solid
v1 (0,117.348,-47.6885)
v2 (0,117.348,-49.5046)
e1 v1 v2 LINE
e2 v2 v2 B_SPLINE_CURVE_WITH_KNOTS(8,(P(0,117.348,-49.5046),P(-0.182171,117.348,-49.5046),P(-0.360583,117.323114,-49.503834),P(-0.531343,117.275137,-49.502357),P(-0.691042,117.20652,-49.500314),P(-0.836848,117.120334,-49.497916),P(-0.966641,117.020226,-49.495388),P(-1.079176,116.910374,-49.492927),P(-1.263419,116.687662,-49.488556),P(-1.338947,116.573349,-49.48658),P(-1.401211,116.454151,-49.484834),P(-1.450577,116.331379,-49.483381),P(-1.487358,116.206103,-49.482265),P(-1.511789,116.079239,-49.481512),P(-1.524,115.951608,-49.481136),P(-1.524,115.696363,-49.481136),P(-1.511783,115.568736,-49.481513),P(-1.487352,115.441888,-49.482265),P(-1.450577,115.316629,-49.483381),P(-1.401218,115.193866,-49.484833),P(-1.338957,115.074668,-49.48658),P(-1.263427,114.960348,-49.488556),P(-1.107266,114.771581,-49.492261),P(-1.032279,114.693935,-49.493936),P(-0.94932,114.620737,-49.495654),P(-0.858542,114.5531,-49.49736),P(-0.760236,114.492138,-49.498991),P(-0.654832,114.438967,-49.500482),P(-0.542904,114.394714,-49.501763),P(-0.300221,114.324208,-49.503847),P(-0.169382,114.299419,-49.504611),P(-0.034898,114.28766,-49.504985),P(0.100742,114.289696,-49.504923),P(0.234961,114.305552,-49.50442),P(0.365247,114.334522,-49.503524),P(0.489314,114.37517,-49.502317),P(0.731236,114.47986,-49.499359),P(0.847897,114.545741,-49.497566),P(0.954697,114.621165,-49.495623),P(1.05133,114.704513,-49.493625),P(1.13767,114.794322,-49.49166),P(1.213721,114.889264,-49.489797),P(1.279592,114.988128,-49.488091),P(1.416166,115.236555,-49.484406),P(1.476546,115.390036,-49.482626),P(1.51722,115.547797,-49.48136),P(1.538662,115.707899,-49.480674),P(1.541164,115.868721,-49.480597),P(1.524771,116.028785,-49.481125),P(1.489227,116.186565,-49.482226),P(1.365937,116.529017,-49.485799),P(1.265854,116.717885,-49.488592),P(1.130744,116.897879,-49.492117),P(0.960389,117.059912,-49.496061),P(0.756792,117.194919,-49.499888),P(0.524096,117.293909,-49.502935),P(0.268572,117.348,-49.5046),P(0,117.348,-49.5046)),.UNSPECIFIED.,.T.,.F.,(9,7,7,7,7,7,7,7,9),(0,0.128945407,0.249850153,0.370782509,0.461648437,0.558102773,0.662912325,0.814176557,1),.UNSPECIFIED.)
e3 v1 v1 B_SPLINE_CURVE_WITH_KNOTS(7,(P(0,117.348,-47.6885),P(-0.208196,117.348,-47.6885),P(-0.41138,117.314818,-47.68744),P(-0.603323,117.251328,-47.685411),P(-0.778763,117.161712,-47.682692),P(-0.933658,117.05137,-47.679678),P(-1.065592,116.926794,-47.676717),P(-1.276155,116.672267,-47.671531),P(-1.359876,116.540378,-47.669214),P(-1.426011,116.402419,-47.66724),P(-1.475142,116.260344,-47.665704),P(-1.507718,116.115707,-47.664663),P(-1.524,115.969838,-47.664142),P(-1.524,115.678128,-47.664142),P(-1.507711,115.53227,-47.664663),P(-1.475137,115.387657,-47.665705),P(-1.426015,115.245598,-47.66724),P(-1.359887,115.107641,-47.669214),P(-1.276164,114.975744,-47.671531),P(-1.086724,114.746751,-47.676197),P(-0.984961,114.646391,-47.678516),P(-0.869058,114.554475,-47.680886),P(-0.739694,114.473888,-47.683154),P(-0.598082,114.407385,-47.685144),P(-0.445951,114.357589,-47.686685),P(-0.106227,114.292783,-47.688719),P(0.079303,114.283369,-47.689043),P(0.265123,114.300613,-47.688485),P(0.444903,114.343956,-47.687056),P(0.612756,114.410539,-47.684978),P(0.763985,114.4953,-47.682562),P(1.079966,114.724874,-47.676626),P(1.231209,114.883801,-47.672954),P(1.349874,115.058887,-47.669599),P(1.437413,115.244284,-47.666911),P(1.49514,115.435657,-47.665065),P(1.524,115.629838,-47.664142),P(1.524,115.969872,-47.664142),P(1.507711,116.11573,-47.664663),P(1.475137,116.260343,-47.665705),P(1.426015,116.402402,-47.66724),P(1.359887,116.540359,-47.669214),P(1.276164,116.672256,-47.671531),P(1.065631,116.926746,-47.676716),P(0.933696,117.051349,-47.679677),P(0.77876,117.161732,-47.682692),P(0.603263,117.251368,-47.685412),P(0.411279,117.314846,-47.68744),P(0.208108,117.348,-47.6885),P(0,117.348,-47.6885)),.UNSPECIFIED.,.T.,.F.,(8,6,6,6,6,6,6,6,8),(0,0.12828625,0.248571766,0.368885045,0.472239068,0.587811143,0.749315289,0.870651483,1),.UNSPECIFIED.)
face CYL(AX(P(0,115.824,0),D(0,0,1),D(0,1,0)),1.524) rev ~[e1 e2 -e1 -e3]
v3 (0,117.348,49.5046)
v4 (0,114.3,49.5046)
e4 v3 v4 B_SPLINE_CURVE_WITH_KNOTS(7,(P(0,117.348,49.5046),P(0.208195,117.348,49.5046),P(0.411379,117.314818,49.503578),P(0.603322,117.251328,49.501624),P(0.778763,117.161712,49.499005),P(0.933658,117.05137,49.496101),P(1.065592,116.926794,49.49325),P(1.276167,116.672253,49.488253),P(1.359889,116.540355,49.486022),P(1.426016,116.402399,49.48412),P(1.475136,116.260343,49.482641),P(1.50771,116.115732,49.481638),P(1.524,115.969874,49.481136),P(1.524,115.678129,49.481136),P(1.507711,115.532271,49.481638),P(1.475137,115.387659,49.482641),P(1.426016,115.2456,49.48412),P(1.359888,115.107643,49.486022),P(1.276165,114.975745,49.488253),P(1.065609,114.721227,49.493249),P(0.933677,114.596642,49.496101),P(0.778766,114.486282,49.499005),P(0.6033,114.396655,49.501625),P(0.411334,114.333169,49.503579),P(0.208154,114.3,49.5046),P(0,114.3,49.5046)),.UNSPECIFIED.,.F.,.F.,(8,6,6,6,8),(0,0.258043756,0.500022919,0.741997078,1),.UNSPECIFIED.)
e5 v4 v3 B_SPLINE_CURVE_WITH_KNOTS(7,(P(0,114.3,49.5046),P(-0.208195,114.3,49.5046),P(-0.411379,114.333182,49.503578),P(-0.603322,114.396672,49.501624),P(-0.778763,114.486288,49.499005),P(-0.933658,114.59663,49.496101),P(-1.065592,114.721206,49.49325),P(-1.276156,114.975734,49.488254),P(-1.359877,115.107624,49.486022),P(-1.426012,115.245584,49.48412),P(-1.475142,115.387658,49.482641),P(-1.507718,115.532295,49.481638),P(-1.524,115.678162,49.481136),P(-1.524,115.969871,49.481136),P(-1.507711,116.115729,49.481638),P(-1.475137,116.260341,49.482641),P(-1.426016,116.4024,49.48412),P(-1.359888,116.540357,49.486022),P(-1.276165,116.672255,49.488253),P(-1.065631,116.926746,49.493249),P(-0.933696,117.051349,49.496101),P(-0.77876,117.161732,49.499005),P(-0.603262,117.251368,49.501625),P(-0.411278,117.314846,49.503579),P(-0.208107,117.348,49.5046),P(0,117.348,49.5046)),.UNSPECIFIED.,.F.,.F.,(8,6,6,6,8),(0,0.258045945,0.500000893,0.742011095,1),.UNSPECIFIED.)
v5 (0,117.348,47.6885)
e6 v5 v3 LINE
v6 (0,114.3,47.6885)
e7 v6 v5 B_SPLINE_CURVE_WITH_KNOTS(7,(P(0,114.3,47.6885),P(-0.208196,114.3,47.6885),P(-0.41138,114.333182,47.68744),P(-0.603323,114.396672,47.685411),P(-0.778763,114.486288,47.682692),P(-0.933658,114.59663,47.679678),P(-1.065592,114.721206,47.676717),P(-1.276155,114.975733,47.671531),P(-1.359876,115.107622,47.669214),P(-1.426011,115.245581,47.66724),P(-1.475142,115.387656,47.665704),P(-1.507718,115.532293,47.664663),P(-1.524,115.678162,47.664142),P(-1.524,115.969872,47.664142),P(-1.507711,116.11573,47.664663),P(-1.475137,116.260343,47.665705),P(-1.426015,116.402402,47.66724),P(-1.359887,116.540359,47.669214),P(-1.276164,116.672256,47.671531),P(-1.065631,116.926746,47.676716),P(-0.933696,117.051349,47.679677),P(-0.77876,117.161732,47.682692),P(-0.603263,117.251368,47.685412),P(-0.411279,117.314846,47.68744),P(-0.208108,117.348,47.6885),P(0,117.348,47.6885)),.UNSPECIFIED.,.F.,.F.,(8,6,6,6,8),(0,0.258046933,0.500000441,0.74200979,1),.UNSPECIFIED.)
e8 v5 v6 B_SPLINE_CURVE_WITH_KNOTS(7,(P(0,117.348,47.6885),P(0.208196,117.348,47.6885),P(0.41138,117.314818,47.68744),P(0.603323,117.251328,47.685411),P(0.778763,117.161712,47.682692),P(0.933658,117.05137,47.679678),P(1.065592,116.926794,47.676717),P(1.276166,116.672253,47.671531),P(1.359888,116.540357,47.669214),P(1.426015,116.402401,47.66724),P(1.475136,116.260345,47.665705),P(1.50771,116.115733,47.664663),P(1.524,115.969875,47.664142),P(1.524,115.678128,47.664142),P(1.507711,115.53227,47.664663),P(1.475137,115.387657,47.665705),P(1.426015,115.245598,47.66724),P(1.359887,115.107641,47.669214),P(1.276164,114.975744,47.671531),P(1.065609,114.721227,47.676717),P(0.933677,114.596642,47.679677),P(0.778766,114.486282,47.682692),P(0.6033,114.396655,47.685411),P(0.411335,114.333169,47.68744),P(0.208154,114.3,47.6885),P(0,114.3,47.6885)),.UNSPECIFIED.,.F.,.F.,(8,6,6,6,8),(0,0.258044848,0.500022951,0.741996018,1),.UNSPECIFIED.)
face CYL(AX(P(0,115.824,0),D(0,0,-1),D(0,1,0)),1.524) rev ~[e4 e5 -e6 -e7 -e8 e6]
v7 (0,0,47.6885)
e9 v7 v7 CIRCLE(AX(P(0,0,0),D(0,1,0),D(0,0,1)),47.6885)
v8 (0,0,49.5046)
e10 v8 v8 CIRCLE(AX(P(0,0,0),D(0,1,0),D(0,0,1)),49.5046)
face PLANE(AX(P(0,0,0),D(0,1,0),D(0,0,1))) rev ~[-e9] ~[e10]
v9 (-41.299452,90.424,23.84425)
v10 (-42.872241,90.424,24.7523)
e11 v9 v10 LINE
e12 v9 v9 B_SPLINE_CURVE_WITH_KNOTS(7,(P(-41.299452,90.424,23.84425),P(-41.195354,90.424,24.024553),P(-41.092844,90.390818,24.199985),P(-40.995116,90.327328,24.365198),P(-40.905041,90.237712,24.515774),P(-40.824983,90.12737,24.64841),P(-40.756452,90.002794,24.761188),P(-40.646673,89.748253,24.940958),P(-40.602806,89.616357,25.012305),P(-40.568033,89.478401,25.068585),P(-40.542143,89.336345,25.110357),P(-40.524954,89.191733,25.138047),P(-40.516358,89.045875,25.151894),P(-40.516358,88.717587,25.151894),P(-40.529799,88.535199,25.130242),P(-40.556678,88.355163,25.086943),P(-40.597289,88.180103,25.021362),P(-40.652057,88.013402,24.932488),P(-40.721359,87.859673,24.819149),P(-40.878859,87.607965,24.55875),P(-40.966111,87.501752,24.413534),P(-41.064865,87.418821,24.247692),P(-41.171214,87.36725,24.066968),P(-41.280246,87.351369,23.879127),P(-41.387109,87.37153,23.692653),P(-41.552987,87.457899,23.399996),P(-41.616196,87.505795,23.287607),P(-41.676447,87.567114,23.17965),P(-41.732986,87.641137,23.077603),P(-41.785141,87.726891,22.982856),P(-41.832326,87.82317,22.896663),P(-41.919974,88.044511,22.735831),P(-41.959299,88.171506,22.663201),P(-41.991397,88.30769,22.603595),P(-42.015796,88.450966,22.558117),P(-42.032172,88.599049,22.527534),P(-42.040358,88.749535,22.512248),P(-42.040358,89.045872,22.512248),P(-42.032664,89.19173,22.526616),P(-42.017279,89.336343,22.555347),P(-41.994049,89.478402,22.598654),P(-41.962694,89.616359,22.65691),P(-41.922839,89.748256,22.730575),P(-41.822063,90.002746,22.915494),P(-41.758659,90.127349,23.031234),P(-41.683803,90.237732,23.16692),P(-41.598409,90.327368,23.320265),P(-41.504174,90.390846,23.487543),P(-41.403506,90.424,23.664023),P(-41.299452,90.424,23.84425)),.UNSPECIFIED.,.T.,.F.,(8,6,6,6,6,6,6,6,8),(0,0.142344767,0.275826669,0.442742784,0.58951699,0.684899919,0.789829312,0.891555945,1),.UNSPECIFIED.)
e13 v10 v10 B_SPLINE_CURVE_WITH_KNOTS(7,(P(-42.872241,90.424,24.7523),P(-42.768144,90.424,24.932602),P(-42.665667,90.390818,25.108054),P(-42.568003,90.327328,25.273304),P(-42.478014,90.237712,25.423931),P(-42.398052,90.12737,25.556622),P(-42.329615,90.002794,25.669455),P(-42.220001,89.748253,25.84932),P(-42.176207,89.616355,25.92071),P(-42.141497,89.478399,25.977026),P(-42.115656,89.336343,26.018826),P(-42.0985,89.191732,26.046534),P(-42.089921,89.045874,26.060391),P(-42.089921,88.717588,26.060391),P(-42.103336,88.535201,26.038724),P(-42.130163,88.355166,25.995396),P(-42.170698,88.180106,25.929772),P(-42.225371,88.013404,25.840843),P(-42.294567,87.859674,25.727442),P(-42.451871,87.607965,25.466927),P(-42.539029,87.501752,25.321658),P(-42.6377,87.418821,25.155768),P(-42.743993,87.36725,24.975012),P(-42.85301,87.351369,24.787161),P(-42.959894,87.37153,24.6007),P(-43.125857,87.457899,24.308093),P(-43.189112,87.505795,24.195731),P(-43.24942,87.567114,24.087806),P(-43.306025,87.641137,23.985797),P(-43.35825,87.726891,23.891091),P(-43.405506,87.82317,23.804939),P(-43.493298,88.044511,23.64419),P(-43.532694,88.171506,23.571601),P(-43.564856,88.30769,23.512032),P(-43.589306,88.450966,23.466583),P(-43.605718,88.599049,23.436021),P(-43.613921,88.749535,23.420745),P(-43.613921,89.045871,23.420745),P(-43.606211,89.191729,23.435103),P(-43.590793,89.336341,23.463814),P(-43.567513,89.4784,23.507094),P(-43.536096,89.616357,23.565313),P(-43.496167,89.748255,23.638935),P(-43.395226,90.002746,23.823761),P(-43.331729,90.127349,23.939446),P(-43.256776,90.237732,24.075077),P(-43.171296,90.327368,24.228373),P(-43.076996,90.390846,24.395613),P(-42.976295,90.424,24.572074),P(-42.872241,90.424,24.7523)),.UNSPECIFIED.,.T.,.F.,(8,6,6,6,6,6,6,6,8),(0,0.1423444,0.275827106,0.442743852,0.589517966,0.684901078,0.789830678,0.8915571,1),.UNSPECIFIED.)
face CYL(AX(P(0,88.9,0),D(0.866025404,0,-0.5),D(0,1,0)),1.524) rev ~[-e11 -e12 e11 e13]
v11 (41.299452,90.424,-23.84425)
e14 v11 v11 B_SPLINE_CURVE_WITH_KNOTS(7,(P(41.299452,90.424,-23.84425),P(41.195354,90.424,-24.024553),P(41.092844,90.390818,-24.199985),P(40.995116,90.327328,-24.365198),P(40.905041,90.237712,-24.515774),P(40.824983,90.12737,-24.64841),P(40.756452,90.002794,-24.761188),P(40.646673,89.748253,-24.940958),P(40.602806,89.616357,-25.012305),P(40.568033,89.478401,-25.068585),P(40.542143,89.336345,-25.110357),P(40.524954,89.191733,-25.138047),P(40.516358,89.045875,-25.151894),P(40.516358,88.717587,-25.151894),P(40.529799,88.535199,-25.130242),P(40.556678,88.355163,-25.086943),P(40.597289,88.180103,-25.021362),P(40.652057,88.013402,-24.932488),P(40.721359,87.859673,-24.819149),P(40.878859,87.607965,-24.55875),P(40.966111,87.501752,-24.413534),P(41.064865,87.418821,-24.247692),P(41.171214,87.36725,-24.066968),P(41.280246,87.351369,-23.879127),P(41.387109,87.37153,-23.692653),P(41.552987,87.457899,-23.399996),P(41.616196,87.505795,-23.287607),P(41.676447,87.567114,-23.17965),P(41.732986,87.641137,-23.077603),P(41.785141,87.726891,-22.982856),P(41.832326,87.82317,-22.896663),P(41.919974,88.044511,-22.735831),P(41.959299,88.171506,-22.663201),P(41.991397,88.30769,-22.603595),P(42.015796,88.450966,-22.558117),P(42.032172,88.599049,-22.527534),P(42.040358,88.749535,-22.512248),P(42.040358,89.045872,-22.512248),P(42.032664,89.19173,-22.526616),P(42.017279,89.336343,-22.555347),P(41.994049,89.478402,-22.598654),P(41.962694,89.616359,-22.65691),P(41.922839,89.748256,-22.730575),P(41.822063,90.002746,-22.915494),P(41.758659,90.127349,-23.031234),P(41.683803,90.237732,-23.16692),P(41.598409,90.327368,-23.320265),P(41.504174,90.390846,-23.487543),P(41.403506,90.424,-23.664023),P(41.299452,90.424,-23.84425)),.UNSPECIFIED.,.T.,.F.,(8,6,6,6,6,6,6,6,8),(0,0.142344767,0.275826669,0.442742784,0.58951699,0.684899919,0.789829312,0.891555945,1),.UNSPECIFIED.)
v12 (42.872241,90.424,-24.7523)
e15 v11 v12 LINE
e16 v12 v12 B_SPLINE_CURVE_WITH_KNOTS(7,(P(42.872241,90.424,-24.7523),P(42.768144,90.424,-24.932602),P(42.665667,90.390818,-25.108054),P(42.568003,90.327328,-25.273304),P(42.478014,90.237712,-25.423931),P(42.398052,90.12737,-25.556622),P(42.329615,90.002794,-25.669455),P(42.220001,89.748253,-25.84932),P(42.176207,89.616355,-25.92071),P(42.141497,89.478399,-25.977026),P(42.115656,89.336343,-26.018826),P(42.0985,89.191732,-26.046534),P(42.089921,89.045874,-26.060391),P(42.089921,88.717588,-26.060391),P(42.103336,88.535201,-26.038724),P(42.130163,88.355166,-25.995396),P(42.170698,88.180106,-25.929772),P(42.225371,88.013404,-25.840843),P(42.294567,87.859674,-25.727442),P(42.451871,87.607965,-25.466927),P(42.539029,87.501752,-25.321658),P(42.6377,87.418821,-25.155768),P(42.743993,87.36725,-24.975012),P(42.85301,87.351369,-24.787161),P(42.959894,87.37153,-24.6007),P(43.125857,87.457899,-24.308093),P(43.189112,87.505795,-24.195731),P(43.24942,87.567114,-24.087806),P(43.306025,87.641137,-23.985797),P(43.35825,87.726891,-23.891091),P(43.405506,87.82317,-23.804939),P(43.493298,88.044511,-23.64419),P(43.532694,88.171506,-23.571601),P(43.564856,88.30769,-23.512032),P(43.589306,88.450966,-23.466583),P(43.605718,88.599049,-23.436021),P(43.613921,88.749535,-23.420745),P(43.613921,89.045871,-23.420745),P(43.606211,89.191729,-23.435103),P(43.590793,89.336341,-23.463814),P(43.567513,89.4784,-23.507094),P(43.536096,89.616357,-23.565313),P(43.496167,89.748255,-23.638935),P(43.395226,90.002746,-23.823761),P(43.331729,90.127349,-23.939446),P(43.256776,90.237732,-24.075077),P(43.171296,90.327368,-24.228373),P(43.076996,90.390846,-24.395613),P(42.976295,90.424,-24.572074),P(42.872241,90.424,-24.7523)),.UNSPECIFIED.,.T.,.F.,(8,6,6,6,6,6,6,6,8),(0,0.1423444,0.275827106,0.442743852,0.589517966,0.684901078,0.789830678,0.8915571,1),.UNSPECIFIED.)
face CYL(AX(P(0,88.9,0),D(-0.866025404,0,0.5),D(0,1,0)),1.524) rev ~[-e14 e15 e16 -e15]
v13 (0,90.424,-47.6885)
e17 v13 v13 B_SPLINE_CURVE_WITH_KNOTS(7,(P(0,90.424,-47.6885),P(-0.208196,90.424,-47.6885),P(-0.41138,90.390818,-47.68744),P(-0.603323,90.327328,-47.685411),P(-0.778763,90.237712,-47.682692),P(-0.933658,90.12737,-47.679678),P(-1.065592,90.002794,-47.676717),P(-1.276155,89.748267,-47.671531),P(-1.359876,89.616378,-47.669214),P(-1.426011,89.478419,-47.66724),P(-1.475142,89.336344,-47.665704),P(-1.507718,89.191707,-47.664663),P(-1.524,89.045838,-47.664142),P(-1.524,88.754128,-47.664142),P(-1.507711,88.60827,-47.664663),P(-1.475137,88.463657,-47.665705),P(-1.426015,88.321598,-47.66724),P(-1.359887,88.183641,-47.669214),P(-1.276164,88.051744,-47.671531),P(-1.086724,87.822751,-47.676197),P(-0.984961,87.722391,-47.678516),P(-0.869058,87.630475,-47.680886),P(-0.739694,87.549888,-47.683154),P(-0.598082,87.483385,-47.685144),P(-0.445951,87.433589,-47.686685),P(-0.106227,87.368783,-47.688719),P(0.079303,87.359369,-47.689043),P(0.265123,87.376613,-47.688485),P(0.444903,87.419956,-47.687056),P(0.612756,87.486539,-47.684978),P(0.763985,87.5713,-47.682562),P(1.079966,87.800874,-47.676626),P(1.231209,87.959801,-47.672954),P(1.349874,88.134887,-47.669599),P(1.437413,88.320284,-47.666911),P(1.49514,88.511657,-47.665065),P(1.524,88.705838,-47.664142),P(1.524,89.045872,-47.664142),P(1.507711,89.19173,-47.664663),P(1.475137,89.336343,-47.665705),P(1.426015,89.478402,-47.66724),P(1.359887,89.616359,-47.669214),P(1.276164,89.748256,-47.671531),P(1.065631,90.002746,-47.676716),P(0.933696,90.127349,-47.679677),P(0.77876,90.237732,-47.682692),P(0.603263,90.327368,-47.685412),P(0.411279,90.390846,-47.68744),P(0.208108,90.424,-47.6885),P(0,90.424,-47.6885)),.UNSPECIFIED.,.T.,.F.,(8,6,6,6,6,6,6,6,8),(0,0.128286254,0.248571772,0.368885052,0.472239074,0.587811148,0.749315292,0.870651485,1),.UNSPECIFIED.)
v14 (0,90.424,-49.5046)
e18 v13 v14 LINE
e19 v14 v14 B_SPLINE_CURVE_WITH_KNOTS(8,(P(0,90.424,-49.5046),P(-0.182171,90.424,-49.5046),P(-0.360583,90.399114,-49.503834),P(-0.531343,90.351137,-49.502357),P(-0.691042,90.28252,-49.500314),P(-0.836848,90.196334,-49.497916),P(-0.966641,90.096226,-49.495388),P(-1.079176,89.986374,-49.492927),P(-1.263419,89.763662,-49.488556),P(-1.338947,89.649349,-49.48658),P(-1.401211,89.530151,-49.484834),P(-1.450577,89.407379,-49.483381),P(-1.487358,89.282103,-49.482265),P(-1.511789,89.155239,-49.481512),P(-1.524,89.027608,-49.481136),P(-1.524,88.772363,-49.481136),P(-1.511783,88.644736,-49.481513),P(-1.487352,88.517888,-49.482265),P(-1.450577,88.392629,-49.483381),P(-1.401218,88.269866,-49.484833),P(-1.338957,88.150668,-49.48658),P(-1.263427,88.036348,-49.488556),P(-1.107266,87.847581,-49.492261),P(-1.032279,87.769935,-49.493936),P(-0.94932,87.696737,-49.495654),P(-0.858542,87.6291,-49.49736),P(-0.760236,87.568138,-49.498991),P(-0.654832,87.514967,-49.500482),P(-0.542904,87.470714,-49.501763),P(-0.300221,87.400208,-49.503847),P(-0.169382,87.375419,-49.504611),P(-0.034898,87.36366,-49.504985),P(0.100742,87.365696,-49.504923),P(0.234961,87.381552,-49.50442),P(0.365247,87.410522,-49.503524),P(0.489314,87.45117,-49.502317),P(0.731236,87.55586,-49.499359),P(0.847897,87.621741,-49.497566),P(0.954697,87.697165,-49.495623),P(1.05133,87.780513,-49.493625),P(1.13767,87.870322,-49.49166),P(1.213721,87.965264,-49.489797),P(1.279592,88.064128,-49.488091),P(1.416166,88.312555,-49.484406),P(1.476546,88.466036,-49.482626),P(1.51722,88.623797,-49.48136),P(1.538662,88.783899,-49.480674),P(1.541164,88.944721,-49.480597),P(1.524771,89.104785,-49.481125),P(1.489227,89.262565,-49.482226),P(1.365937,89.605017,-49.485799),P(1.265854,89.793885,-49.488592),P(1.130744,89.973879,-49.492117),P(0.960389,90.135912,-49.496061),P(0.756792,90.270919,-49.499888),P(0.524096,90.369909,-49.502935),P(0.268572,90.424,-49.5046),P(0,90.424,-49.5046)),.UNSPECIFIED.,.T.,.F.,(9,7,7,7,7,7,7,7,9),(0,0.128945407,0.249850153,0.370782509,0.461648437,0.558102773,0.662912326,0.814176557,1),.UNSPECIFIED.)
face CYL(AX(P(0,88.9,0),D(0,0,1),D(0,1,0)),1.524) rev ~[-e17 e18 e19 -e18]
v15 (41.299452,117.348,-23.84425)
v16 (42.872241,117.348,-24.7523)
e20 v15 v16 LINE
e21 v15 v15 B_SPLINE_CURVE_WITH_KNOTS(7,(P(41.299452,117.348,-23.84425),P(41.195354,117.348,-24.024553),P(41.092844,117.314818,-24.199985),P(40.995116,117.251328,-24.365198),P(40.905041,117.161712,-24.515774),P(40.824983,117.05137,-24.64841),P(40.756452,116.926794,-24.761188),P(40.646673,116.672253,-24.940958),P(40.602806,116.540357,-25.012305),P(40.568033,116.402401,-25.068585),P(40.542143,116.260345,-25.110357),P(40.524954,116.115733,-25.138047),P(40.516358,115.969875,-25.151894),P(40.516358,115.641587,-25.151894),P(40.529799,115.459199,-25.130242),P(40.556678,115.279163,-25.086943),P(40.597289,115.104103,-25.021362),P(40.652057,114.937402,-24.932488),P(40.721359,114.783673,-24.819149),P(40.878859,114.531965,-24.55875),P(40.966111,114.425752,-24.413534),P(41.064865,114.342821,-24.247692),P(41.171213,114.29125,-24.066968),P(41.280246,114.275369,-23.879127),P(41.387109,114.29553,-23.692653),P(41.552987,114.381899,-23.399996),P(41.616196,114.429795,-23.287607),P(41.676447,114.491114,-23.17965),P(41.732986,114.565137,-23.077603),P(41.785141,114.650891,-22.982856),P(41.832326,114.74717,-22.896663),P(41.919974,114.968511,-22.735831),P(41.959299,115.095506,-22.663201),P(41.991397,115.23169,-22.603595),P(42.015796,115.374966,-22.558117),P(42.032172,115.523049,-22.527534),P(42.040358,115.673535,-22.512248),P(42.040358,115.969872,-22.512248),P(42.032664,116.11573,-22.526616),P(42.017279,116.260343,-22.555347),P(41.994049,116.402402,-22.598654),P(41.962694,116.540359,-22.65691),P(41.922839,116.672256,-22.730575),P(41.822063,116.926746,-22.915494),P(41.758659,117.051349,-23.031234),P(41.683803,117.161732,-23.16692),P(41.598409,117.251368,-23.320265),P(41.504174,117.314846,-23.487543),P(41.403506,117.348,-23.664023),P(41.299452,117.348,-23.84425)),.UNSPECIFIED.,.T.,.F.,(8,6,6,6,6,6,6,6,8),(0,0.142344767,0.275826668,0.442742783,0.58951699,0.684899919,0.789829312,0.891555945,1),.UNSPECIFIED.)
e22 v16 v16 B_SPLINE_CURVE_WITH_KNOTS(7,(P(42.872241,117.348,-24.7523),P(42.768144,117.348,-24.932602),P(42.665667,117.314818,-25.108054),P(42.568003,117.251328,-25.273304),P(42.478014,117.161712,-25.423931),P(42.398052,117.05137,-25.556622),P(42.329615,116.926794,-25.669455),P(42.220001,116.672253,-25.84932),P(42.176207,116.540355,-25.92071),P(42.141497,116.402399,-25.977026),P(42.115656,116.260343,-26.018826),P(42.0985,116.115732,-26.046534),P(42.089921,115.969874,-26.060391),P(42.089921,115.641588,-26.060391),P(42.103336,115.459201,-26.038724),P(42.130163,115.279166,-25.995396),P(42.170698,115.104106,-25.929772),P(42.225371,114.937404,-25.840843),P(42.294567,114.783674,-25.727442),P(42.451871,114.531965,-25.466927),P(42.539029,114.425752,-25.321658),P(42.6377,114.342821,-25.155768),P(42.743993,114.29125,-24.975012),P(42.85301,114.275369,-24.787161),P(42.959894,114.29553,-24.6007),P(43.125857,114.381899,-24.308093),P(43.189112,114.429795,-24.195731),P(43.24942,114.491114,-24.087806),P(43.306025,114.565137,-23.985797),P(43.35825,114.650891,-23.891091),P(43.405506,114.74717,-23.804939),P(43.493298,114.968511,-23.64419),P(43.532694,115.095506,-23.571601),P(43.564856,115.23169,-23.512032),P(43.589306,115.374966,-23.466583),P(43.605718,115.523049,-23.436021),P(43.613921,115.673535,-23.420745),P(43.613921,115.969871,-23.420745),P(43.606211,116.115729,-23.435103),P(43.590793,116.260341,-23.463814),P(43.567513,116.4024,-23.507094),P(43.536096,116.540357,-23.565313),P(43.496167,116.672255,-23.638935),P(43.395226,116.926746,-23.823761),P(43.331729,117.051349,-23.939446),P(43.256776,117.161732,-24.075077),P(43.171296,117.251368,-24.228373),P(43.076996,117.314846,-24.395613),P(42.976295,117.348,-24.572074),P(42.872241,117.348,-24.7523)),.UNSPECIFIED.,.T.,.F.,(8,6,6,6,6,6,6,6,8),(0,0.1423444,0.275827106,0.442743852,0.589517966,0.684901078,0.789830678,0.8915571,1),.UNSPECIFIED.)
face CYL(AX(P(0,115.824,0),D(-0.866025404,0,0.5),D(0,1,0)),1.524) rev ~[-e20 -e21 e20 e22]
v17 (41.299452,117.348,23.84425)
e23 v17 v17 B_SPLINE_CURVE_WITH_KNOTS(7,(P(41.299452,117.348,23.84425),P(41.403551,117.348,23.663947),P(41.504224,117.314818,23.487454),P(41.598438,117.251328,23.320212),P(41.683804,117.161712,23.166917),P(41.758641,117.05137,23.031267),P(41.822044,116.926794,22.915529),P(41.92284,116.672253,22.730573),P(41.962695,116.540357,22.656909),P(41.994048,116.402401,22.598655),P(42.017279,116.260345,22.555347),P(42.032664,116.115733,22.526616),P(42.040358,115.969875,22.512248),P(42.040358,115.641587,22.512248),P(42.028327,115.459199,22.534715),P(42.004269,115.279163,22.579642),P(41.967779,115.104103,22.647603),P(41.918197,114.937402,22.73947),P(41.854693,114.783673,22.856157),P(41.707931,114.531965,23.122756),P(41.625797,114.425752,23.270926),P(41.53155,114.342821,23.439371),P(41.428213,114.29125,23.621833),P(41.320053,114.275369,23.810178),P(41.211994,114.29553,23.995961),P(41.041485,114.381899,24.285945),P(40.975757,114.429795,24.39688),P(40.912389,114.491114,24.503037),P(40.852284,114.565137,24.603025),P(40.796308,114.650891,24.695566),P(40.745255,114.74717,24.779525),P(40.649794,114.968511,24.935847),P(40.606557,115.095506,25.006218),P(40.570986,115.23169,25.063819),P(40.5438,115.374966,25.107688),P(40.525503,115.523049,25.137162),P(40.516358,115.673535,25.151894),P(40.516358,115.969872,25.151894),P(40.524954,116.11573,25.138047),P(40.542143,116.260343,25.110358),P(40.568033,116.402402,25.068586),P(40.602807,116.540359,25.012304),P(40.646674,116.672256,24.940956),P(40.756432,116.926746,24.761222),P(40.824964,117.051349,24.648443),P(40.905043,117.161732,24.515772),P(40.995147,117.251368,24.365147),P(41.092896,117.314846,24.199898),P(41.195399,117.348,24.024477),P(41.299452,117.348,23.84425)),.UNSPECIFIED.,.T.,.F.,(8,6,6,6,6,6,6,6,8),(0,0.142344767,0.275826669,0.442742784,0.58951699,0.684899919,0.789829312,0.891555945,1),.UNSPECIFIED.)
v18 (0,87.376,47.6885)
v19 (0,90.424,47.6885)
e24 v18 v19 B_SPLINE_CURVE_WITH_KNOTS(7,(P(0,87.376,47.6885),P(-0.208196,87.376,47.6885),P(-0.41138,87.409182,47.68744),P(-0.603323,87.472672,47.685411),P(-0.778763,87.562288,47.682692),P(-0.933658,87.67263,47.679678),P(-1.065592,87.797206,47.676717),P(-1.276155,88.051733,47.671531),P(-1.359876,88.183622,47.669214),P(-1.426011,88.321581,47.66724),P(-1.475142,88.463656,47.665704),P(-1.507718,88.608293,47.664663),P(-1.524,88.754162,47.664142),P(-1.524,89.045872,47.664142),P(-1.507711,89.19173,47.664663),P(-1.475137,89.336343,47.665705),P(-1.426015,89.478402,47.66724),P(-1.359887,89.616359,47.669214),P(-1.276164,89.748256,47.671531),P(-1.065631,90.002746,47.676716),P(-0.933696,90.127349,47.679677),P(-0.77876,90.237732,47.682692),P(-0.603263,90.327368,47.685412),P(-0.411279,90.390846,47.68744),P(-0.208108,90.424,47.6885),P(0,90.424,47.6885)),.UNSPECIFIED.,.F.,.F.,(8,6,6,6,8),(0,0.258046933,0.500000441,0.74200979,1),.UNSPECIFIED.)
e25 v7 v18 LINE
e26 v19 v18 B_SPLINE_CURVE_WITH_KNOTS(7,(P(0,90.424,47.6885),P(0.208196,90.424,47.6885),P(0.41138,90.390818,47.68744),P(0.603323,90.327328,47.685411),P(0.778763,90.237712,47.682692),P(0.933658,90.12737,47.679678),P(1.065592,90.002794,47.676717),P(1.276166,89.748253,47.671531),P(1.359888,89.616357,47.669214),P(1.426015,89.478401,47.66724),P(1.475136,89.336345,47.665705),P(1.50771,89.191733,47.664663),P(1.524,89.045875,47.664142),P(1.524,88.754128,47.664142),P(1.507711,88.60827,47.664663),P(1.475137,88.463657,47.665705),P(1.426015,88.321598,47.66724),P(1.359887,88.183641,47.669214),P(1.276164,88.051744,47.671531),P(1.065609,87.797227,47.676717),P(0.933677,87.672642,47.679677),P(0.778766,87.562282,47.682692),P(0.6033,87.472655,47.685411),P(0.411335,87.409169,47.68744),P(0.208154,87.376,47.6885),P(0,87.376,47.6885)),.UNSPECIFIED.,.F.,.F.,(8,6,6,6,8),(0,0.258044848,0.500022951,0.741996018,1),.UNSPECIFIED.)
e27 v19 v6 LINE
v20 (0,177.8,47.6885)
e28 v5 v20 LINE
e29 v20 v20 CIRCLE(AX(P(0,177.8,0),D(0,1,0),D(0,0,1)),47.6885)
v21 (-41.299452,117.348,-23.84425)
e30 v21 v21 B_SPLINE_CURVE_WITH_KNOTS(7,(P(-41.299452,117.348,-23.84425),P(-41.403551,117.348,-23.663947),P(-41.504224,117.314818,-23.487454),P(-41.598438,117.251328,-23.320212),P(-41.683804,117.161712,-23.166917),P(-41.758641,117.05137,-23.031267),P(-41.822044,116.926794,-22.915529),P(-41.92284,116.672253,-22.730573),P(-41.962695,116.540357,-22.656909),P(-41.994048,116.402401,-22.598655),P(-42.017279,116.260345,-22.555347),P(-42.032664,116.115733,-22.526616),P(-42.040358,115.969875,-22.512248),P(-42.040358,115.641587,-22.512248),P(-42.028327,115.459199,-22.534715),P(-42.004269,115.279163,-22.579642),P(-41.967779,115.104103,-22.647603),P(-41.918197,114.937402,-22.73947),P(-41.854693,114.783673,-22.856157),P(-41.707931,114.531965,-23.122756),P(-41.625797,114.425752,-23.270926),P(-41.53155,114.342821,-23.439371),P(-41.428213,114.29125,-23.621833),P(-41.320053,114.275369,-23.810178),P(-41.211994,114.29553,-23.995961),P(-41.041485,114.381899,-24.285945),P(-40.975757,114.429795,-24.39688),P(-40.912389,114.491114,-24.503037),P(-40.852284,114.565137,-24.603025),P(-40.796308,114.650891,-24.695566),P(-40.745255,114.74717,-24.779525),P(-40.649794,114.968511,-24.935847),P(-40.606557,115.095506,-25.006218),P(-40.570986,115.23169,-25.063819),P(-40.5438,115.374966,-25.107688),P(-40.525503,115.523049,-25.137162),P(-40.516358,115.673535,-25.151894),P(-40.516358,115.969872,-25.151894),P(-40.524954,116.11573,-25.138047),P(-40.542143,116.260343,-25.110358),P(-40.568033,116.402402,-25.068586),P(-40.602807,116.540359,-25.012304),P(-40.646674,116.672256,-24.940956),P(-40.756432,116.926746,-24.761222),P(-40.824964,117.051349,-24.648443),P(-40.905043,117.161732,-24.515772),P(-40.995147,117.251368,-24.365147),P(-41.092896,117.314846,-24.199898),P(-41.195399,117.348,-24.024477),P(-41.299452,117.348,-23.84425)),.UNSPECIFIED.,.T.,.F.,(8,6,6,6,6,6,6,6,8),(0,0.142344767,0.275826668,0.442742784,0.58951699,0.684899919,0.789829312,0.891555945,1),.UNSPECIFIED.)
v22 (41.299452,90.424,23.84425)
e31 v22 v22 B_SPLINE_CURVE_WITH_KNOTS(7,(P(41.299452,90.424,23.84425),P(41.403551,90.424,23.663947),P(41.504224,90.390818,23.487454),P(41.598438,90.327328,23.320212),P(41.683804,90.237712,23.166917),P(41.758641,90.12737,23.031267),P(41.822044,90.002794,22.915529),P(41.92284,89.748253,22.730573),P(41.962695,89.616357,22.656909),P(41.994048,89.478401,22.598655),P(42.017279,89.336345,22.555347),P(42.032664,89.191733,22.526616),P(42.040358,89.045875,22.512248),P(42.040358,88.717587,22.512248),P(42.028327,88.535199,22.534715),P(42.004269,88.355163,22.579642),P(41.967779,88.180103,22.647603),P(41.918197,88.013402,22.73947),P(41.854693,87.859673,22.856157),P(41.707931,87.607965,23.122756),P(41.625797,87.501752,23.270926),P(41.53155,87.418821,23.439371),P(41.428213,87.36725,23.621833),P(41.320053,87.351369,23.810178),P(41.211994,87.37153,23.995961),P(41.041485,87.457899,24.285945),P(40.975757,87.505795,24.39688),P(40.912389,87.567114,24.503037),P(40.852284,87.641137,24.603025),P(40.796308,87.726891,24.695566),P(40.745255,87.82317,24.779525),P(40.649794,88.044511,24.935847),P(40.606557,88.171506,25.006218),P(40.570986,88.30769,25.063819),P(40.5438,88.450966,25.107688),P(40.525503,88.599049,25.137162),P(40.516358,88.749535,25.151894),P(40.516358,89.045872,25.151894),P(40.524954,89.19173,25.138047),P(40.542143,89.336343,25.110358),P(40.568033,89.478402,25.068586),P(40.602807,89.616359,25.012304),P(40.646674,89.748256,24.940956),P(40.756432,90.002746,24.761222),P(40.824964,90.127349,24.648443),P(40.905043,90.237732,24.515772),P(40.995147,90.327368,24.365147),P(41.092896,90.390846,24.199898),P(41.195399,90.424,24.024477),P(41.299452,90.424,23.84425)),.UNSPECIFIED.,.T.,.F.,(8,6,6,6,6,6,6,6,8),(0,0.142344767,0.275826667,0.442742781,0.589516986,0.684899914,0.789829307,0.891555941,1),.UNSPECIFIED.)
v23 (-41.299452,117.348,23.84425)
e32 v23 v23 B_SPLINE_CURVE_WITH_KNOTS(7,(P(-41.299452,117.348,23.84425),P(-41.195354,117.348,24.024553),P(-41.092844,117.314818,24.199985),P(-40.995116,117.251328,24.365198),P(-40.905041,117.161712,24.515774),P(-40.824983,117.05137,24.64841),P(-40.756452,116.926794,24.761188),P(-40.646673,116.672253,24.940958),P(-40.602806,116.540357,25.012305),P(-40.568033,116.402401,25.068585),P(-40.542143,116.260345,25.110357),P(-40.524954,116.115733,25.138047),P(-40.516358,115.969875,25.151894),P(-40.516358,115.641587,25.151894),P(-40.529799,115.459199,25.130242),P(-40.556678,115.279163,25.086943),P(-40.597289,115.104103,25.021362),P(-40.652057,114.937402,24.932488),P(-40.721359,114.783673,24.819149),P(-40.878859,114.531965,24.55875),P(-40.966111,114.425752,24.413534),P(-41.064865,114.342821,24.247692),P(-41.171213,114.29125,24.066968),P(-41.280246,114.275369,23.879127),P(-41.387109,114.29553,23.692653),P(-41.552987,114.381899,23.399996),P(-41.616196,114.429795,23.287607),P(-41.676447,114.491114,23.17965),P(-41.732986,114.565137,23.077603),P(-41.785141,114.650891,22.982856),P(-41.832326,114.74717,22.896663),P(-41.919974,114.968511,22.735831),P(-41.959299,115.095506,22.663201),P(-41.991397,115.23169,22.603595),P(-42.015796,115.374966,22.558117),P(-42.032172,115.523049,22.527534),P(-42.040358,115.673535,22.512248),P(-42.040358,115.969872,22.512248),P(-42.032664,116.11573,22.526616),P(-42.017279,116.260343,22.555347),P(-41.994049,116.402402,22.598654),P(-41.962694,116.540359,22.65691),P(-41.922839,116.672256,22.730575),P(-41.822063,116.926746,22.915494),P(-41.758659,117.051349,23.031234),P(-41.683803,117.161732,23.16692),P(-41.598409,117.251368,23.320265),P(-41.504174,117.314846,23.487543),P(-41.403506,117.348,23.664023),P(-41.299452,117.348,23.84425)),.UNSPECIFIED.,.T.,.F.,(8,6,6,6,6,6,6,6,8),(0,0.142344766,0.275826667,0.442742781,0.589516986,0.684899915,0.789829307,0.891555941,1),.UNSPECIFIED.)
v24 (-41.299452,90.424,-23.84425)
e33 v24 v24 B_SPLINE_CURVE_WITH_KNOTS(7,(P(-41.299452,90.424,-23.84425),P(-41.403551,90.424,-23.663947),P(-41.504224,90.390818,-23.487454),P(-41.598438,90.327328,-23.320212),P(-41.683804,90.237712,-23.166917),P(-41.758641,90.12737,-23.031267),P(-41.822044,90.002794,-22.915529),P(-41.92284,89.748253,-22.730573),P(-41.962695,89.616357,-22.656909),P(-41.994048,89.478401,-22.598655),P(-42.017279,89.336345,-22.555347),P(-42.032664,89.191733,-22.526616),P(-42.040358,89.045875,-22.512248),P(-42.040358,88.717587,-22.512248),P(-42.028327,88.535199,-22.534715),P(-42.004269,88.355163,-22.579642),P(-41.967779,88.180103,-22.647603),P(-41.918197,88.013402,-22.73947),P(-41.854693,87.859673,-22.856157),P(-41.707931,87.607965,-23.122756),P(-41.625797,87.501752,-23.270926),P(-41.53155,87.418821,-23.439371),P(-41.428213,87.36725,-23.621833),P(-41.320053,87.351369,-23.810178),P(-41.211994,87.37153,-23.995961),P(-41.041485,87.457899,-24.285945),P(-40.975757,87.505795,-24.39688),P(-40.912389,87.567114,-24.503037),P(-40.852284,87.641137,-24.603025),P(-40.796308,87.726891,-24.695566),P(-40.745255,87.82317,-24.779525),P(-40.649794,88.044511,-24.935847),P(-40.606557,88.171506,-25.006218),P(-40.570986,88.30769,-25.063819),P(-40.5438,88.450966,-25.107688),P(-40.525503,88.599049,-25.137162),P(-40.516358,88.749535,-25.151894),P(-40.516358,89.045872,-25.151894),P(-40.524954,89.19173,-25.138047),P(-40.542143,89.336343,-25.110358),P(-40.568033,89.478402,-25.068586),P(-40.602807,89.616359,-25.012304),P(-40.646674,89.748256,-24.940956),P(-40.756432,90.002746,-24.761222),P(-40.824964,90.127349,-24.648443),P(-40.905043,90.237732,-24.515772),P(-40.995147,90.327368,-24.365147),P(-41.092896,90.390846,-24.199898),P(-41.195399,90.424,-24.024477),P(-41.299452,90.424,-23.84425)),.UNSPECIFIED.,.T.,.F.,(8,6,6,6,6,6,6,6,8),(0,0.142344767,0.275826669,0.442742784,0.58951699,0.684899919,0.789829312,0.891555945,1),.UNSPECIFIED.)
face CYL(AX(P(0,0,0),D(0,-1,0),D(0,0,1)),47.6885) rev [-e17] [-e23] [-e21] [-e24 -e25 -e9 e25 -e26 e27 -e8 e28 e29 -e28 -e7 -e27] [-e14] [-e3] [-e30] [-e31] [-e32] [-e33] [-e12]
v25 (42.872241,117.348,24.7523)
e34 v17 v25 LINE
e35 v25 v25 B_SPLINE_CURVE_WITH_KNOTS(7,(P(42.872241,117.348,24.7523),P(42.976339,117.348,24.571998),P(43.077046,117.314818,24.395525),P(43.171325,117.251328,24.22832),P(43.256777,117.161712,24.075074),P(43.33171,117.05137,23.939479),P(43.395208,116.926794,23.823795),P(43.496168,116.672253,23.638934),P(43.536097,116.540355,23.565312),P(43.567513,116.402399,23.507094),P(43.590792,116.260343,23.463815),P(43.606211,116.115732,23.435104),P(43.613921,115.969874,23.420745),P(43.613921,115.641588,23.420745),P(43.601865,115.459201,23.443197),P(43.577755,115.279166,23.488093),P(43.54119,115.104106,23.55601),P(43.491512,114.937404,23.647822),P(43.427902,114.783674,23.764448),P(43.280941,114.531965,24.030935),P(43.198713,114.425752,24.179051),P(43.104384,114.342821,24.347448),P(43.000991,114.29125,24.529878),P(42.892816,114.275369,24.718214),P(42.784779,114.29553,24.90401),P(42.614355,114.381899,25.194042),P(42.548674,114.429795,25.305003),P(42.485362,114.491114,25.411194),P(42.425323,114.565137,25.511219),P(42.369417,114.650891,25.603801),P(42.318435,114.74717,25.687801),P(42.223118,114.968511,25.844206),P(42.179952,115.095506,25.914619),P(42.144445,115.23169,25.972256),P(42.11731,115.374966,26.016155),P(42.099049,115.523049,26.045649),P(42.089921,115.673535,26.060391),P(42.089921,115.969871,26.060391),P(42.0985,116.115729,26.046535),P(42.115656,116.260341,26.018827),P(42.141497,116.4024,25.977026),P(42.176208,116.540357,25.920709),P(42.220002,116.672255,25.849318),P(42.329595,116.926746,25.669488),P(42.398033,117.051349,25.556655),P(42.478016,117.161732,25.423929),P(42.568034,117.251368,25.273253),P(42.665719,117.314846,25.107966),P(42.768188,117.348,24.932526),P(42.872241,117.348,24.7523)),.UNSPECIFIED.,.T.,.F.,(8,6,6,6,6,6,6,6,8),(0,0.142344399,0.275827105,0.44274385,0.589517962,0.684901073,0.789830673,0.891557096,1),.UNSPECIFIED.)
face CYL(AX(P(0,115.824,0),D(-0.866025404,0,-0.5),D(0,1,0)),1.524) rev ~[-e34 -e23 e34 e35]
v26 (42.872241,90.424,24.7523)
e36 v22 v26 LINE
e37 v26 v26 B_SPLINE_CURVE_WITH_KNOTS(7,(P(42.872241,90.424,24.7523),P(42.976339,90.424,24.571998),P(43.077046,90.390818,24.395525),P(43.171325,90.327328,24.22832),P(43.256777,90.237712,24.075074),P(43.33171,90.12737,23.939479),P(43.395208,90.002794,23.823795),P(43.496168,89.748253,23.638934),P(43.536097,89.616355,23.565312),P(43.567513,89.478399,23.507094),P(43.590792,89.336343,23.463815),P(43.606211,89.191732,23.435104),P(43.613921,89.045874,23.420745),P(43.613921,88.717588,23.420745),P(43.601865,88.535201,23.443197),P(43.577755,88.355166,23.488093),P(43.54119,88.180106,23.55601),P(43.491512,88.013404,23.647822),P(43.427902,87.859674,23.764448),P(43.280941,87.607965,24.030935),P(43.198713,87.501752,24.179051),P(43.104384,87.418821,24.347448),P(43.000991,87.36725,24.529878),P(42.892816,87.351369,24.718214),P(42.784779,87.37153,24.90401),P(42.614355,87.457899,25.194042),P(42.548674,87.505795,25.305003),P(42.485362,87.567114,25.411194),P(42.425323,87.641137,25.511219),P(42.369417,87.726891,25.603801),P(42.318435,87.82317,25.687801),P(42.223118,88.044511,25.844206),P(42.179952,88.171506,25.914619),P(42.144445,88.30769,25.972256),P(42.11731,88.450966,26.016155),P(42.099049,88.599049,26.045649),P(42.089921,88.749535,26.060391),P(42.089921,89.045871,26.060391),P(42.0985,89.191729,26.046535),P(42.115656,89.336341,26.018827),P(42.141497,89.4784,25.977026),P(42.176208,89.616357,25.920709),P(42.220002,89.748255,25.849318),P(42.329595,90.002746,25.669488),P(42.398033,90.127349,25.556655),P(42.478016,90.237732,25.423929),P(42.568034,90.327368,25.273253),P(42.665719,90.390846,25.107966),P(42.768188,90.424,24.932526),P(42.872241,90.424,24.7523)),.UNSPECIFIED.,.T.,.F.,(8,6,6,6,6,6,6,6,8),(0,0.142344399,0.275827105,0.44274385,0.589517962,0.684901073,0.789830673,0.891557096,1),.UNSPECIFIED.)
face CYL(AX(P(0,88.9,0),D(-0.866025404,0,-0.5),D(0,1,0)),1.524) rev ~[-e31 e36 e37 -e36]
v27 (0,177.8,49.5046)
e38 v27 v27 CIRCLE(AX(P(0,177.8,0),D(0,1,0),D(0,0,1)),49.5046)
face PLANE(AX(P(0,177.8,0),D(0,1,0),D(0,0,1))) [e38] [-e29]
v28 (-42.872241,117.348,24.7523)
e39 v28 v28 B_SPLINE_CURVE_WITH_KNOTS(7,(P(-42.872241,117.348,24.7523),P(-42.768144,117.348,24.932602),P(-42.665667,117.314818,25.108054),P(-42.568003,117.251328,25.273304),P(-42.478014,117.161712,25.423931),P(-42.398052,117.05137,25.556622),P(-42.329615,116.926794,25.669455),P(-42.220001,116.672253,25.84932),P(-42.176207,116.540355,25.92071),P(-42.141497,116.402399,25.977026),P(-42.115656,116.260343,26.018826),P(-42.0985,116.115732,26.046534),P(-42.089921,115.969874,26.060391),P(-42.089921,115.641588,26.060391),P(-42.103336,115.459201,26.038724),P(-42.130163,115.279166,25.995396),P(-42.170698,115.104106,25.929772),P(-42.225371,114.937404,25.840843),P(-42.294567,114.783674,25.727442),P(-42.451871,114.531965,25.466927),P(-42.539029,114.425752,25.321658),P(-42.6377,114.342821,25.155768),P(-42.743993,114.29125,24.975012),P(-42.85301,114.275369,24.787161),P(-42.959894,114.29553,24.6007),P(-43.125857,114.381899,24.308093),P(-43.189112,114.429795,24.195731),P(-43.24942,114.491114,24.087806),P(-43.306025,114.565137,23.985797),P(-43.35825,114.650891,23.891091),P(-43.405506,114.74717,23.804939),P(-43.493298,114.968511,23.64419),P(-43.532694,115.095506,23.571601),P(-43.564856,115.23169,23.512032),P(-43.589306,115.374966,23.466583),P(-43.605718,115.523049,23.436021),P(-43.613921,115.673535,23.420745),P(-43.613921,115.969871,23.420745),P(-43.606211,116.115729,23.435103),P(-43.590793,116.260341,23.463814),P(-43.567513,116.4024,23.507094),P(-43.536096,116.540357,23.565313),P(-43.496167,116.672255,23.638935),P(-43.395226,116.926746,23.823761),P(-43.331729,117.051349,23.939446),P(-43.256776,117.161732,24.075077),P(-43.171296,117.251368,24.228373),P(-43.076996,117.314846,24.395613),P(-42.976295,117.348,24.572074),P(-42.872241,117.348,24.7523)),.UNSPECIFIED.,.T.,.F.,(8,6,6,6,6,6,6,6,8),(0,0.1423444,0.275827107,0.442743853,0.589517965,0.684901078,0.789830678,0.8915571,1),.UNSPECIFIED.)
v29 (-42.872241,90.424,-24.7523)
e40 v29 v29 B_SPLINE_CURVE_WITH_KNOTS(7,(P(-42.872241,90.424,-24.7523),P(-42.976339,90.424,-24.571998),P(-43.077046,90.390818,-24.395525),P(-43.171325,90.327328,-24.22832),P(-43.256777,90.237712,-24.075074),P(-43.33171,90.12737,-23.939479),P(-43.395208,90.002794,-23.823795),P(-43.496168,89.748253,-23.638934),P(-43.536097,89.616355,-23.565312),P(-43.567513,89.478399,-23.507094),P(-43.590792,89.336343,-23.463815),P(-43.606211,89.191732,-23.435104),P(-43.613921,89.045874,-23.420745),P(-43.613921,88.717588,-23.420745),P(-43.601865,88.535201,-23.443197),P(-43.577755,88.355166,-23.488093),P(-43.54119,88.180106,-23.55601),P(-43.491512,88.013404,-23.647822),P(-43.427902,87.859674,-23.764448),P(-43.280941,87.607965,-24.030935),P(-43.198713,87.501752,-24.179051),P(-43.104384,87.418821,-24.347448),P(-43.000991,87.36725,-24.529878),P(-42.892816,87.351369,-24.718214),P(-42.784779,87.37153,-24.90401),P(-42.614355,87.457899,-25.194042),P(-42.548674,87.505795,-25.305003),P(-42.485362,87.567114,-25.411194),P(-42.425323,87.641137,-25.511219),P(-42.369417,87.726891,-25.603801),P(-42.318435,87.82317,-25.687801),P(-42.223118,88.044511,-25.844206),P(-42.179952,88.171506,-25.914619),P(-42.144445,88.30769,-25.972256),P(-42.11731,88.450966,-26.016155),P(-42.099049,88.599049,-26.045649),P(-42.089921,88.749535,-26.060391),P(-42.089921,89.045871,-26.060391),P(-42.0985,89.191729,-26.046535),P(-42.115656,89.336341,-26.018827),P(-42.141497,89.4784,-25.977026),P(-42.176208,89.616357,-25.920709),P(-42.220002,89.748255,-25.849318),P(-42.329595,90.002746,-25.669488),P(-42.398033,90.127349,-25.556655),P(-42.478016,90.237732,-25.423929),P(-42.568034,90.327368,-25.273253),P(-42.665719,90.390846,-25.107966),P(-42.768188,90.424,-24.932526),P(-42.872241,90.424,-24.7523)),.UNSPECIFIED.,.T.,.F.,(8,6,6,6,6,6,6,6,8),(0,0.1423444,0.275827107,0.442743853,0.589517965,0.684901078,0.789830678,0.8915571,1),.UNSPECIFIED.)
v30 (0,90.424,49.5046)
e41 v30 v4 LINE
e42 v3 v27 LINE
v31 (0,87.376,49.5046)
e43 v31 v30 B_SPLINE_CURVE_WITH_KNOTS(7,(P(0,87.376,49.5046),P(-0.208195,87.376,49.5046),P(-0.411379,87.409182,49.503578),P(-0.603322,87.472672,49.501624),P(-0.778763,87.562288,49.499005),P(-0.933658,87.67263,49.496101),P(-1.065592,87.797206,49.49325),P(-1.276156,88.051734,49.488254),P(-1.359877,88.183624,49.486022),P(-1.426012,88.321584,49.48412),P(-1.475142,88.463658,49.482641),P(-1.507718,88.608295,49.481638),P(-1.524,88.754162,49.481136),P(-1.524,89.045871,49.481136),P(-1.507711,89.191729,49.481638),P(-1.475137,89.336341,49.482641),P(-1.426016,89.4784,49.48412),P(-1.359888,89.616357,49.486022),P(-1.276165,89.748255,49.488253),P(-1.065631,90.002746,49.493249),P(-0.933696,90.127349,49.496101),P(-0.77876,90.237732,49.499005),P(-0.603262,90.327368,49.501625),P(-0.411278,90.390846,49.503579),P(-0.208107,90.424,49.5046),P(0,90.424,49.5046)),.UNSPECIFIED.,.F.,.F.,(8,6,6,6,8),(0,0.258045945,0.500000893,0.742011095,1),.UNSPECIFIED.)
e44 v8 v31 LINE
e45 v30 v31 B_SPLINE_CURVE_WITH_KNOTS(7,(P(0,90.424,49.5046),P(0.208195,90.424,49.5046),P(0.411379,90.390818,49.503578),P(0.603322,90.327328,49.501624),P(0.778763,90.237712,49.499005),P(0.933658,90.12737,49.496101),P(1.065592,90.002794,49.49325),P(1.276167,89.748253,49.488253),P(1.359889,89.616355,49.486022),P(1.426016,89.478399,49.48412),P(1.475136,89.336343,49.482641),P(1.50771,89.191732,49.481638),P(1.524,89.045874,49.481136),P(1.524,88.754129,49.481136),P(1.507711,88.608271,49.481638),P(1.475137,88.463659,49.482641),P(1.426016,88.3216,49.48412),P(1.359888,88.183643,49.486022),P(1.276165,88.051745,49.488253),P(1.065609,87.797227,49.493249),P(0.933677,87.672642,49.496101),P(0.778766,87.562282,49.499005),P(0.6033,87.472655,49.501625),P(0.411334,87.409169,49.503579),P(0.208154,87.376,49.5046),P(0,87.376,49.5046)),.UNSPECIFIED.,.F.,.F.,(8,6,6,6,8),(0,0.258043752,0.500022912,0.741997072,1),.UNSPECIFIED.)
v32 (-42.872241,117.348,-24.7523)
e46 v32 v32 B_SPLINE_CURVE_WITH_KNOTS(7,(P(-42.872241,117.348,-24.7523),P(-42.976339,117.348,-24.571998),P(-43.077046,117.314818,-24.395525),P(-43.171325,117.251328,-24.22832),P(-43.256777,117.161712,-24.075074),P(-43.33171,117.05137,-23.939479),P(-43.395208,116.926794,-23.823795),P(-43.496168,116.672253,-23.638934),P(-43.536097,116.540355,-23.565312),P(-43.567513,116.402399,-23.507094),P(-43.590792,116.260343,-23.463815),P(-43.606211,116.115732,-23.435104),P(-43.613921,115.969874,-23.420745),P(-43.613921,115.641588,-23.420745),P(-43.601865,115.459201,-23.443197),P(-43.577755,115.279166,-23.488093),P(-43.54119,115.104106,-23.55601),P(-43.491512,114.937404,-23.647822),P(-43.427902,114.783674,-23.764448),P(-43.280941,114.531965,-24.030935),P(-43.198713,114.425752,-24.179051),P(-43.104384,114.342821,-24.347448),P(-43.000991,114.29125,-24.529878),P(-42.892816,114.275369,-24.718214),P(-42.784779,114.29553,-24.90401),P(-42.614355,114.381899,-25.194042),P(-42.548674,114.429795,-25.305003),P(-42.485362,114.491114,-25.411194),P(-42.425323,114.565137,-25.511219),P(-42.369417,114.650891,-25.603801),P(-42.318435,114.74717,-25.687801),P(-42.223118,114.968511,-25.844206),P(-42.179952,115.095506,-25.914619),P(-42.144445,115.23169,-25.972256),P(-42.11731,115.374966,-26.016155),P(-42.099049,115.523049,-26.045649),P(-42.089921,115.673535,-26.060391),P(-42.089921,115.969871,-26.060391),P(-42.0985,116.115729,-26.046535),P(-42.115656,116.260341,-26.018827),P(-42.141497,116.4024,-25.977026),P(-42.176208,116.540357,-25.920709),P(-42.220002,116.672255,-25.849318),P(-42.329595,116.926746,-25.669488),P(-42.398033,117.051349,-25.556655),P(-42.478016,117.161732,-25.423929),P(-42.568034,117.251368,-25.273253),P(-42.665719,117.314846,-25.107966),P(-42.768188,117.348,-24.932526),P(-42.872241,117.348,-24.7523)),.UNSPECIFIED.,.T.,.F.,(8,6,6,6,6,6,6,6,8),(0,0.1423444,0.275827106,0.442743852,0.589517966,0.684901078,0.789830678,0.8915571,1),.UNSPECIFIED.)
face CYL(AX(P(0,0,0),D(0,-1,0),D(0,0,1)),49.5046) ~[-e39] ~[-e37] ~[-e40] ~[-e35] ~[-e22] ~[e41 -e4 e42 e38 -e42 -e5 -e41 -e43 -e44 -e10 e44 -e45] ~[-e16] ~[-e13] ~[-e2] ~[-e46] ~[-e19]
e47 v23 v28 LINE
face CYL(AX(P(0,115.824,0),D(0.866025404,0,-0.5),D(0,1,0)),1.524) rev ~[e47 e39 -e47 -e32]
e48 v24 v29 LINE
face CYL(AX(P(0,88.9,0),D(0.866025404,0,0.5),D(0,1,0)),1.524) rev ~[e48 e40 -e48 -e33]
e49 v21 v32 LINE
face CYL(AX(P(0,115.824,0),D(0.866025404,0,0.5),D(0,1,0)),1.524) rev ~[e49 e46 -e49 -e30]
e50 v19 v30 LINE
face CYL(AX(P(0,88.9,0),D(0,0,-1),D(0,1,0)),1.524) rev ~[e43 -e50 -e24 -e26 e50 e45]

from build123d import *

# Parameters (mm, degrees)
SKETCH1_R           = 49.5046
SKETCH1_R_2         = 47.6885
BOSS_EXTRUDE1_DEPTH = 177.8
SKETCH2_R           = 1.524
CUT_EXTRUDE1_DEPTH  = 177.8
CIRPATTERN1_COUNT   = 6
SKETCH3_R           = 1.524
CUT_EXTRUDE2_DEPTH  = 177.8
CIRPATTERN2_COUNT   = 6


with BuildPart() as part:
    # Sketch1 → Boss-Extrude1 (new body)
    with BuildSketch(Plane(origin=(0, 0, 0), x_dir=(1, 0, 0), z_dir=(0, 1, 0))):
        with Locations(Location((0, 0, 0), (0, 0, 270))):
            Circle(SKETCH1_R)
        with Locations(Location((0, 0, 0), (0, 0, 270))):
            Circle(SKETCH1_R_2, mode=Mode.SUBTRACT)
    extrude(amount=BOSS_EXTRUDE1_DEPTH)

    # Sketch2 → Cut-Extrude1 (cut)
    with BuildSketch(Plane.XY):
        with Locations(Location((0, 115.824, 0), (0, 0, 90))):
            Circle(SKETCH2_R)
    cut_extrude1 = extrude(amount=-CUT_EXTRUDE1_DEPTH, mode=Mode.SUBTRACT)

    # CirPattern1: Cut-Extrude1 ×6 about axis
    cirpattern1_axis = Axis((0, 177.8, 0), (0, -1, 0))
    for i in range(1, CIRPATTERN1_COUNT):
        add(cut_extrude1.rotate(cirpattern1_axis, i * 360 / CIRPATTERN1_COUNT), mode=Mode.SUBTRACT)

    # Sketch3 → Cut-Extrude2 (cut)
    with BuildSketch(Plane.XY):
        with Locations(Location((0, 88.9, 0), (0, 0, 90))):
            Circle(SKETCH3_R)
    cut_extrude2 = extrude(amount=-CUT_EXTRUDE2_DEPTH, mode=Mode.SUBTRACT)

    # CirPattern2: Cut-Extrude2 ×6 about axis
    cirpattern2_axis = Axis((0, 177.8, 0), (0, -1, 0))
    for i in range(1, CIRPATTERN2_COUNT):
        add(cut_extrude2.rotate(cirpattern2_axis, i * 360 / CIRPATTERN2_COUNT), mode=Mode.SUBTRACT)


solid = part.part
